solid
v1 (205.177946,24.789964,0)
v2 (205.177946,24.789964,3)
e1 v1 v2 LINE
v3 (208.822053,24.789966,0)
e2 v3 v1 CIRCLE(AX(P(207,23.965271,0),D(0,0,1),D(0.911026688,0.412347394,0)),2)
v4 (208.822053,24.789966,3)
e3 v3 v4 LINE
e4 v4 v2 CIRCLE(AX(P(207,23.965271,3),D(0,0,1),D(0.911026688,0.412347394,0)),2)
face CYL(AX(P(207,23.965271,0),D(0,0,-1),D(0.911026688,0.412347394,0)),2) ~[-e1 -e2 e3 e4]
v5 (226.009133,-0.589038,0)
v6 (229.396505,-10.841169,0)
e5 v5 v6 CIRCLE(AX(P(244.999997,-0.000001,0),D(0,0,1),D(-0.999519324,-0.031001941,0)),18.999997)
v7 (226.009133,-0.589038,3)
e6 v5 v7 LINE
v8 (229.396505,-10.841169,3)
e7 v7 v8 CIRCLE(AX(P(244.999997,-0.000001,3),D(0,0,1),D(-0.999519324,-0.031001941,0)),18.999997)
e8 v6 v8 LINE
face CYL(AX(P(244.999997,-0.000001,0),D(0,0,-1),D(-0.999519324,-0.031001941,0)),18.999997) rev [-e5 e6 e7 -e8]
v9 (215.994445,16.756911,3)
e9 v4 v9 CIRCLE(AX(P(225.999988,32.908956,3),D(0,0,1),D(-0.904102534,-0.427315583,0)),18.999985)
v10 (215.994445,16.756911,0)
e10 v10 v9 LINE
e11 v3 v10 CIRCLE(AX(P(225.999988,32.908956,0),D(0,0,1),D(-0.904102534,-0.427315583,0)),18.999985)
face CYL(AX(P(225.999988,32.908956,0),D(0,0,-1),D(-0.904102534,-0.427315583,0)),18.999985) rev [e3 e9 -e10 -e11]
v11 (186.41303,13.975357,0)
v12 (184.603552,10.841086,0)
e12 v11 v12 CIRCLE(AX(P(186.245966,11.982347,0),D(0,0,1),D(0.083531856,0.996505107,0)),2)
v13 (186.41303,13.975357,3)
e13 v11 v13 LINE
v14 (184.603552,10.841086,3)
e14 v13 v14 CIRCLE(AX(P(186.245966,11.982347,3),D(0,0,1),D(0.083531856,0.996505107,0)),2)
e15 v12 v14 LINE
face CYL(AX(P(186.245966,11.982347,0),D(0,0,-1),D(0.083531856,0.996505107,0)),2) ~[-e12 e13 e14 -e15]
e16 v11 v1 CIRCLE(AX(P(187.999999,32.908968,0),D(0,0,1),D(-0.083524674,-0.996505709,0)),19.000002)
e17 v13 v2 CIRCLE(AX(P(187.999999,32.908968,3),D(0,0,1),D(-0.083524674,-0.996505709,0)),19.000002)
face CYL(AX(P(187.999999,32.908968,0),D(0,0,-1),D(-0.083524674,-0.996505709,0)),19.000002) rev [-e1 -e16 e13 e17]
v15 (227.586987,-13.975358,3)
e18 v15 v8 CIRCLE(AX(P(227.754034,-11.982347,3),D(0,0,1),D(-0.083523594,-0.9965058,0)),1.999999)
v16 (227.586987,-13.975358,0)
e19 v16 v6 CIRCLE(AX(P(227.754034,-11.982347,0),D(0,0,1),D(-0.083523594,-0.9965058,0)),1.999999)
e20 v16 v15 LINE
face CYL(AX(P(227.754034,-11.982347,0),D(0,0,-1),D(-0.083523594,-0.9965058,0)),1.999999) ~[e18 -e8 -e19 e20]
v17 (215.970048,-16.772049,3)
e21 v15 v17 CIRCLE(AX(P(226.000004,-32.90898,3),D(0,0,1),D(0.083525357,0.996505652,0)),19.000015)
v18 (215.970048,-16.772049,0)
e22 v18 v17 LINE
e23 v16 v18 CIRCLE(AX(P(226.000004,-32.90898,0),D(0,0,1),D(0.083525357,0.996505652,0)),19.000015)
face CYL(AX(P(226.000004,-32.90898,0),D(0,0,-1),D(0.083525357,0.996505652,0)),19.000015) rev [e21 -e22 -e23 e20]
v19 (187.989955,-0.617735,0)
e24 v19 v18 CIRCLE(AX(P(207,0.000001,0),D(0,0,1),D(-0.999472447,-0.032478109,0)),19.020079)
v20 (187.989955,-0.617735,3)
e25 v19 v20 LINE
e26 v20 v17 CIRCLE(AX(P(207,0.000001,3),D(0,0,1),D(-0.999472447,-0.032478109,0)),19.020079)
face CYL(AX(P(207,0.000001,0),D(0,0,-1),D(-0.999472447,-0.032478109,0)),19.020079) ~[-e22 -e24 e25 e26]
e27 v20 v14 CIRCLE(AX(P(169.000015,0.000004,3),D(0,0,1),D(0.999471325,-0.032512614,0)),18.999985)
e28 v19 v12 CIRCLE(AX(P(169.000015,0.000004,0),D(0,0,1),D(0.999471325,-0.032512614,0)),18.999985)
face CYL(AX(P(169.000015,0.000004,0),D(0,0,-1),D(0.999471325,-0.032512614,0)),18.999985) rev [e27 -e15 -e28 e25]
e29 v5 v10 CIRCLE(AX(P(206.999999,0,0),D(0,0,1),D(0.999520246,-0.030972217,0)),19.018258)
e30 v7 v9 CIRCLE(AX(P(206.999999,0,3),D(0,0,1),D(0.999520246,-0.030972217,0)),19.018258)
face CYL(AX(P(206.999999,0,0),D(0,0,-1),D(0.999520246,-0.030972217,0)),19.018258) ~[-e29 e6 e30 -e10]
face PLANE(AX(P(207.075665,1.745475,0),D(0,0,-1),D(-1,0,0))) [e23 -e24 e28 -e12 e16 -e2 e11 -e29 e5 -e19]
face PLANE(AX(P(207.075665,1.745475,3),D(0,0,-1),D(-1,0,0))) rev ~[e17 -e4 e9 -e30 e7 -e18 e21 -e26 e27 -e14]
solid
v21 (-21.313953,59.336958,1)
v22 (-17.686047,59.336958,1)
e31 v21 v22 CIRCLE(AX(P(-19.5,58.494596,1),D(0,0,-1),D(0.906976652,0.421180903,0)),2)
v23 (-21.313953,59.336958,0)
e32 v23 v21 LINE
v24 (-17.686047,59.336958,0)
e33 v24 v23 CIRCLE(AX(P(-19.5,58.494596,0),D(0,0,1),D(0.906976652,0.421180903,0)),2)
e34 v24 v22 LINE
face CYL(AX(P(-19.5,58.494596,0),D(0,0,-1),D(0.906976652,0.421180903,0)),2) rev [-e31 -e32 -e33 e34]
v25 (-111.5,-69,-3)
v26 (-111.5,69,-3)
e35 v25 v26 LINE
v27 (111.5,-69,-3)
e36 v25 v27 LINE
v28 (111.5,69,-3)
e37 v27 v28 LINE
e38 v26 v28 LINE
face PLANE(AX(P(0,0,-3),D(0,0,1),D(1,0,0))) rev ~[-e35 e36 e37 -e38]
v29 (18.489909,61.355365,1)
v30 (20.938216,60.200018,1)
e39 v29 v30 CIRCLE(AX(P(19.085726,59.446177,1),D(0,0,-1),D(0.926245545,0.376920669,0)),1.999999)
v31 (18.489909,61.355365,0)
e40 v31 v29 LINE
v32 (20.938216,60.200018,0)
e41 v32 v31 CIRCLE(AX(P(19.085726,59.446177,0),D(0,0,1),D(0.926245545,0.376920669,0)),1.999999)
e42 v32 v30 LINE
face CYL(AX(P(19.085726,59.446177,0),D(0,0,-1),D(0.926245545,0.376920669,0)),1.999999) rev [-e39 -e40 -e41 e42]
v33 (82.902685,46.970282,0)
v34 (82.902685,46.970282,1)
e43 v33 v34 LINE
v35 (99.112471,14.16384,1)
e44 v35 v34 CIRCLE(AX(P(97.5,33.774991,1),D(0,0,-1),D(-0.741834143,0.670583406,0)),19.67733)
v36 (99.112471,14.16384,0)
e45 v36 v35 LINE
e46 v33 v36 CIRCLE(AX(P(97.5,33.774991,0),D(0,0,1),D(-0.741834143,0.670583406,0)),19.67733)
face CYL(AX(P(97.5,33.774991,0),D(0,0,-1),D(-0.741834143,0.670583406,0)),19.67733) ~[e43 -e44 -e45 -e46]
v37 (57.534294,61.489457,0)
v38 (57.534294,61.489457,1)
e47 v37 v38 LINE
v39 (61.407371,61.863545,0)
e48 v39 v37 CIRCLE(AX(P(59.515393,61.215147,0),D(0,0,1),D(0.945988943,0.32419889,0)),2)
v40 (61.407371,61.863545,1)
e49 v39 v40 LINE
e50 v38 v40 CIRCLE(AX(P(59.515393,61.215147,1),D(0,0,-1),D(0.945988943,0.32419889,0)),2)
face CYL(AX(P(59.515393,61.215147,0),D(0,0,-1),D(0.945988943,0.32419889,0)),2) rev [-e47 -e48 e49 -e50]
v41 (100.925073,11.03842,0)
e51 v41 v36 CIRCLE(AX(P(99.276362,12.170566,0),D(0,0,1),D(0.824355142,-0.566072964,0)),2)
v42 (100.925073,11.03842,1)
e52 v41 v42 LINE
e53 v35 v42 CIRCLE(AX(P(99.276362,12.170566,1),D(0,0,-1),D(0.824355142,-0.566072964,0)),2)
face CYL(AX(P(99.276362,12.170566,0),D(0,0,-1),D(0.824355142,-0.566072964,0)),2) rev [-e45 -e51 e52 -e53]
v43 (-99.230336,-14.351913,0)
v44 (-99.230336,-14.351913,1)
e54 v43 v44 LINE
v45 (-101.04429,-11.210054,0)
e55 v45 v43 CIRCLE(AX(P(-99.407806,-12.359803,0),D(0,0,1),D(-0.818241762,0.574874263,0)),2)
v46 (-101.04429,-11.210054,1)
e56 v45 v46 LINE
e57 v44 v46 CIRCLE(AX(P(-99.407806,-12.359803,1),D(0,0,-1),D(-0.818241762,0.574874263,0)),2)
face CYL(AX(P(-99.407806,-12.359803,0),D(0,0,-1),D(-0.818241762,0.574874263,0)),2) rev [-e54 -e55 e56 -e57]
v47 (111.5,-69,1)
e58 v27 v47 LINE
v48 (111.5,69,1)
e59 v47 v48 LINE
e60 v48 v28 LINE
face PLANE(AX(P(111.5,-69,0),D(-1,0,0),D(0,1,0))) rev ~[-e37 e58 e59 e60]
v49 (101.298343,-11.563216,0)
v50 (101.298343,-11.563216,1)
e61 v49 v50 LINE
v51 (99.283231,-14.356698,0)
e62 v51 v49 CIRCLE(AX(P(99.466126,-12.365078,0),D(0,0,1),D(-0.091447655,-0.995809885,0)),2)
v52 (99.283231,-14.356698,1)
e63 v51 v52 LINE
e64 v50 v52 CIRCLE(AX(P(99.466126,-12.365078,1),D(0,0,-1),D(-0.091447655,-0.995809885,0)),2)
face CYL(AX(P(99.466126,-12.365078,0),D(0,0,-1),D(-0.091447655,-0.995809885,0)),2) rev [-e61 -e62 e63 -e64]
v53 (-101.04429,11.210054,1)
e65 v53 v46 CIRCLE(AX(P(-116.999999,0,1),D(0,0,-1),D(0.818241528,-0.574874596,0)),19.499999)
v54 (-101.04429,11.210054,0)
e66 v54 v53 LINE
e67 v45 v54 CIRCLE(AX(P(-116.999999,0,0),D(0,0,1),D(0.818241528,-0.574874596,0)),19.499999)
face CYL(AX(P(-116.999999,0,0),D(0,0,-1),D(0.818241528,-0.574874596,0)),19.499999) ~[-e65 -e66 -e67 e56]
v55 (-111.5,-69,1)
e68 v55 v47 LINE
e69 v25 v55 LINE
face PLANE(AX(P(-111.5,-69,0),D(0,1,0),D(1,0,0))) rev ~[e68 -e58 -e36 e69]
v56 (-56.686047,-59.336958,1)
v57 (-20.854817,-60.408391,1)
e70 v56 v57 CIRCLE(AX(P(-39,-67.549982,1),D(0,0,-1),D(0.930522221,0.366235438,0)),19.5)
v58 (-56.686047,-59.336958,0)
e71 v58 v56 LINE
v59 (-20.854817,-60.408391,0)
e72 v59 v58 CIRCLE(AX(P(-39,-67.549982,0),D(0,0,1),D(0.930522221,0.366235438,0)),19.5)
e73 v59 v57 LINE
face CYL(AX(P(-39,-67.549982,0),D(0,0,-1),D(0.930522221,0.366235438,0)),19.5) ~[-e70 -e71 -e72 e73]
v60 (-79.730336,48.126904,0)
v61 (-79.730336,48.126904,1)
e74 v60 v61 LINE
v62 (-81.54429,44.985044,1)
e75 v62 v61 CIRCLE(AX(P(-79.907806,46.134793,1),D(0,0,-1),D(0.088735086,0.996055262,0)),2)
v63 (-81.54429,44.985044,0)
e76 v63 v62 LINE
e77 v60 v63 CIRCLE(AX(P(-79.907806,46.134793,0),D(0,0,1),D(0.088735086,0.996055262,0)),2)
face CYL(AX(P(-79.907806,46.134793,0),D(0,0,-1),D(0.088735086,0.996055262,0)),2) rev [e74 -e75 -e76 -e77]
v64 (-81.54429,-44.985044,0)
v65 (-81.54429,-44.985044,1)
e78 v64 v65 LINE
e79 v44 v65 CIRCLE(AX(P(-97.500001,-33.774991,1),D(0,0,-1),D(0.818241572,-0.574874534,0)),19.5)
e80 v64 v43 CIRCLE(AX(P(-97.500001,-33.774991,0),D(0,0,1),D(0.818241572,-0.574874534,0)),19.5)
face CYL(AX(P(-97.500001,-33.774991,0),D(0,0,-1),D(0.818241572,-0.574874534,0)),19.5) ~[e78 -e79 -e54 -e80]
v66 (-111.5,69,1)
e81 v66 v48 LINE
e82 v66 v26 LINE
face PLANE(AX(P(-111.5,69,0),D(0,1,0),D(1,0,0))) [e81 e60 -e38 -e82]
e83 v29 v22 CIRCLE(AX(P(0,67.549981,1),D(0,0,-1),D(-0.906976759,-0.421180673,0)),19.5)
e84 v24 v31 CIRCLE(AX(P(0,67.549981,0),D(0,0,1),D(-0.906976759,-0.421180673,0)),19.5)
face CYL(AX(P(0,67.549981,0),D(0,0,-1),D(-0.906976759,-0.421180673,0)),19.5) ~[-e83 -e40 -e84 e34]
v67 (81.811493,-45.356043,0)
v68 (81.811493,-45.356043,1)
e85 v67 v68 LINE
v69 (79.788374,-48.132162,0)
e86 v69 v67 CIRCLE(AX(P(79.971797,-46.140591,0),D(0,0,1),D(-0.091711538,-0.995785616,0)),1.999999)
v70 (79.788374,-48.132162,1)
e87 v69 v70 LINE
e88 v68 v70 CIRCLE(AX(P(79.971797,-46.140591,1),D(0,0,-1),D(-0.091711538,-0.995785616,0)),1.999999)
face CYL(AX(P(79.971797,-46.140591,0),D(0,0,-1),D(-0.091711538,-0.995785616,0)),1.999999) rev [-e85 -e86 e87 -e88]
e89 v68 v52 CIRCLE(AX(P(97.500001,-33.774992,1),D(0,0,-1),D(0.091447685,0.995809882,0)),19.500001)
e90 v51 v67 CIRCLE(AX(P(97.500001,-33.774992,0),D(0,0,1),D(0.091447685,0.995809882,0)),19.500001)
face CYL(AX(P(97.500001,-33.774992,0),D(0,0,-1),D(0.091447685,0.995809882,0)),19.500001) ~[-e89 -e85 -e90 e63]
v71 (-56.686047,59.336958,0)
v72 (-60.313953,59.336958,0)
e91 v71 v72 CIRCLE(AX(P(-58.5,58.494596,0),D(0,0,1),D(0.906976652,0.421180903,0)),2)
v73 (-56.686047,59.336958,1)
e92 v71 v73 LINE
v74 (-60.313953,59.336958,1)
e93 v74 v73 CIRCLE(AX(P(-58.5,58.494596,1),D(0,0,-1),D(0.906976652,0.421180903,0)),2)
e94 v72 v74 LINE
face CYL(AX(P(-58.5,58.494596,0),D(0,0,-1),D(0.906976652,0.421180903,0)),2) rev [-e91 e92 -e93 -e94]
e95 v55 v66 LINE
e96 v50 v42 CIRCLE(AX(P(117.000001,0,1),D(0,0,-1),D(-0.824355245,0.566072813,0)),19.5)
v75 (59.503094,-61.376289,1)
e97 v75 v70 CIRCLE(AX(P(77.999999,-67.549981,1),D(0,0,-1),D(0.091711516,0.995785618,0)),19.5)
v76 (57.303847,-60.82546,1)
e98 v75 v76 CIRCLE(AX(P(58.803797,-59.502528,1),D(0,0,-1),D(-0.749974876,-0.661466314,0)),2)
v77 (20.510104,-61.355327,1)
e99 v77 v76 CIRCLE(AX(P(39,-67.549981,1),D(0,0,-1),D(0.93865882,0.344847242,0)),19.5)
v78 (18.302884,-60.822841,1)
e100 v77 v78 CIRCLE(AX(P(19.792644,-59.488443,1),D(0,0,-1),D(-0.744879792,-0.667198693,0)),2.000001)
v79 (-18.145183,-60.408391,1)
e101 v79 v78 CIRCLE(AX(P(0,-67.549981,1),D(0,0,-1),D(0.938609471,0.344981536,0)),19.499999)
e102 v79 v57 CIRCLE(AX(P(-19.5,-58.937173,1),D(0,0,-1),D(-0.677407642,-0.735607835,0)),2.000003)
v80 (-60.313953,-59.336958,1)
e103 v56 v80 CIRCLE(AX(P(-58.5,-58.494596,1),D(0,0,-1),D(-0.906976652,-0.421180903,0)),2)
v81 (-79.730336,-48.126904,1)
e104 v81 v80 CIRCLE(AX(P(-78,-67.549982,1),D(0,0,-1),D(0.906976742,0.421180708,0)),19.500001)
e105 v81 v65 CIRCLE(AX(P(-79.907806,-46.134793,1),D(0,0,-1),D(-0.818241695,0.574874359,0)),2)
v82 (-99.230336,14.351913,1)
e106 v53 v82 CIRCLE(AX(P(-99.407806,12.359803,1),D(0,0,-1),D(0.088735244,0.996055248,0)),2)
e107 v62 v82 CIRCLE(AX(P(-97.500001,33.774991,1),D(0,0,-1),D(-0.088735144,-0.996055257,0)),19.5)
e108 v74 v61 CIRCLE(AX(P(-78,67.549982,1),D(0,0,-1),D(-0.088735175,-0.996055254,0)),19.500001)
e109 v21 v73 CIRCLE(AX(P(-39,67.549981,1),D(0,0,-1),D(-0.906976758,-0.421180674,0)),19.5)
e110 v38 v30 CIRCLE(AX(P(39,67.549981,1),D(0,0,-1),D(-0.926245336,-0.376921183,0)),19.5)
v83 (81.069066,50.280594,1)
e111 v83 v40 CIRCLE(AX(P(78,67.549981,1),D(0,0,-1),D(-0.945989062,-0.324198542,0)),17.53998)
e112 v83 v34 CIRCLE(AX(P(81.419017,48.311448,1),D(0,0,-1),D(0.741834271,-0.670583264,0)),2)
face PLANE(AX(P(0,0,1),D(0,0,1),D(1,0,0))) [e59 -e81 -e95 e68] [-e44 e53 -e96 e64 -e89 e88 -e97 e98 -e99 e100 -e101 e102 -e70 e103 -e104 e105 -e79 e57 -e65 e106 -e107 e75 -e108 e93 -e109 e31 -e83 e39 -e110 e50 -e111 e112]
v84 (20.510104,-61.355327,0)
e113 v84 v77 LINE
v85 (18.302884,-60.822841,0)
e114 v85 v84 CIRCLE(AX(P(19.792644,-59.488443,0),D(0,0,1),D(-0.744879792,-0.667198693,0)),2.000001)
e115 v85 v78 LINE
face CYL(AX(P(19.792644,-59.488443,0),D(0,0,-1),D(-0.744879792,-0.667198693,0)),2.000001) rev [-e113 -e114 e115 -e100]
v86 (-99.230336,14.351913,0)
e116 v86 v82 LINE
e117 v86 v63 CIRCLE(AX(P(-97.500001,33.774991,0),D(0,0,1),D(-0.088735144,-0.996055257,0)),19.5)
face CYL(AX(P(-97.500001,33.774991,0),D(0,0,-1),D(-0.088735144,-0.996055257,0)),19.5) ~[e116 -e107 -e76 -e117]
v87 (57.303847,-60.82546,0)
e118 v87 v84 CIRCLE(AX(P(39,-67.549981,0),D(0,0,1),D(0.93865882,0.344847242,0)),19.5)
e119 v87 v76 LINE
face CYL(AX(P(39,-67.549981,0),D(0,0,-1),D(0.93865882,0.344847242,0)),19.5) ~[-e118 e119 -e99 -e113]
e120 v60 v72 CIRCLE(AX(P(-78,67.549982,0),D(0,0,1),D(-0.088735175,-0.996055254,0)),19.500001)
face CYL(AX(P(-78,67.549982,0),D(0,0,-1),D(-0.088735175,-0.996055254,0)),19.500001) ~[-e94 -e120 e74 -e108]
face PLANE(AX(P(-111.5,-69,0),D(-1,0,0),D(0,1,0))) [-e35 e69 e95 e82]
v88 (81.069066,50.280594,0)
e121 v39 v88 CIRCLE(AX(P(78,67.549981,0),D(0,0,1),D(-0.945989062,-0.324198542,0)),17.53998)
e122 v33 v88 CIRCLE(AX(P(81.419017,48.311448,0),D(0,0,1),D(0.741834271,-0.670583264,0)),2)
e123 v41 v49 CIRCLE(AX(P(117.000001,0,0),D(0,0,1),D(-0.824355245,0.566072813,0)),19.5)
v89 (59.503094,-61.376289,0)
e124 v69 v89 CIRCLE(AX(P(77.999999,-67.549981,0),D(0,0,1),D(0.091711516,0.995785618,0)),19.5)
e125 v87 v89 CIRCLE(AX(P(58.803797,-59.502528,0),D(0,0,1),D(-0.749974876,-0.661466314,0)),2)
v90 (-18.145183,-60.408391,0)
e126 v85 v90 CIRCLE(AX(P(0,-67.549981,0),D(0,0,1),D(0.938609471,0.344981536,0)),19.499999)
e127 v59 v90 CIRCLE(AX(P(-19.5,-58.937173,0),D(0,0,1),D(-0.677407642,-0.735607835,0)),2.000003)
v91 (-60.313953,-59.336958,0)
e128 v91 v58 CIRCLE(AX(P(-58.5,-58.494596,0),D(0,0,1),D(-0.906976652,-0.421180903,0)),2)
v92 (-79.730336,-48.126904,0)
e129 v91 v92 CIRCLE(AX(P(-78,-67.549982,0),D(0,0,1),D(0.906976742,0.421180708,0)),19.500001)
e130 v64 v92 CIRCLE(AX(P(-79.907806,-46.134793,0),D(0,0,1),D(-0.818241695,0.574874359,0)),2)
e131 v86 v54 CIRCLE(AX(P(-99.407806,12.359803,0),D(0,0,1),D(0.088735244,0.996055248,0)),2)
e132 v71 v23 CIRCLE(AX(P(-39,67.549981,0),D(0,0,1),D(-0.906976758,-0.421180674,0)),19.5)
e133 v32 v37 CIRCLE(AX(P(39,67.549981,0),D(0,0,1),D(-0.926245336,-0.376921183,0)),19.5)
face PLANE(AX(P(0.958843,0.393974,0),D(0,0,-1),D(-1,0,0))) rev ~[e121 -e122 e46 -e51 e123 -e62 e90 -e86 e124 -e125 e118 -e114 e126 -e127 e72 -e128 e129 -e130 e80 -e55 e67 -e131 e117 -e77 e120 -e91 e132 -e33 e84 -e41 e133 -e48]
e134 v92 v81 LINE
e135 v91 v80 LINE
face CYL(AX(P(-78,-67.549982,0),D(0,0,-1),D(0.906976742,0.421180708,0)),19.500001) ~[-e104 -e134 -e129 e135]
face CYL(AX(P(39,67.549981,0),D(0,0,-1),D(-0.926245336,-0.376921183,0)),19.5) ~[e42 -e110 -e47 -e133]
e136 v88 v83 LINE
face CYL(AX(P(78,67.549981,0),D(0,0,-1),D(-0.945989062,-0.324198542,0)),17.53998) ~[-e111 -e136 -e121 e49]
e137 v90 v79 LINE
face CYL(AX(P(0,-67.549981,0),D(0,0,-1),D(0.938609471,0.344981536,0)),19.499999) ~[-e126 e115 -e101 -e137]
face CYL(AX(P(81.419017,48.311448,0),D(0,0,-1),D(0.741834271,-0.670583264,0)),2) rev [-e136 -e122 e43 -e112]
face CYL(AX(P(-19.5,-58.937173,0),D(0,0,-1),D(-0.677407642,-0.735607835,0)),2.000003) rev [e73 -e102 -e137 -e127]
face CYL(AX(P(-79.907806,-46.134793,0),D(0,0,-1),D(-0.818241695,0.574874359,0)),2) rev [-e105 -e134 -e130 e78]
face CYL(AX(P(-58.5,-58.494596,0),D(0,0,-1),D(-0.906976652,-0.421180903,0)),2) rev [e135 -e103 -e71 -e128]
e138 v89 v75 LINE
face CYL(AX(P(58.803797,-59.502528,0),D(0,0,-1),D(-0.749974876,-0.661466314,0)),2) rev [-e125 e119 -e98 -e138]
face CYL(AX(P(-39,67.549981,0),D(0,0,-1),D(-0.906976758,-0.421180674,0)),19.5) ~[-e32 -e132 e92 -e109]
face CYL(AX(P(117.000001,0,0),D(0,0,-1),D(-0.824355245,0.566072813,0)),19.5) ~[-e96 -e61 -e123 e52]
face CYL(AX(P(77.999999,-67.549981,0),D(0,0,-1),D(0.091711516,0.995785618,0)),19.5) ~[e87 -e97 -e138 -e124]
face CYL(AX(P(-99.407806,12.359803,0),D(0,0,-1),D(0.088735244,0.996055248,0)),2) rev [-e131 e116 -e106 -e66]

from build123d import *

# Parameters (mm, degrees)
PAD001_DEPTH         = 3
SKETCH004_W          = 769.720642
SKETCH004_H          = 484.196625
SKETCH004_W_2        = 86.21834
SKETCH004_H_2        = 85.329529
POCKET001_DEPTH      = 100
POCKET001_DEPTH_BACK = -100
SKETCH002_W          = 223
SKETCH002_H          = 138
PAD_DEPTH            = 3
PAD_DEPTH_BACK       = -1
POCKET_DEPTH         = 3


with BuildPart() as pieces:
    # Sketch003 → Pad001 (new body)
    with BuildSketch(Plane.XY):
        with BuildLine():
            ThreePointArc((-205.226021, 141.050401), (-197.53634, 132.633448), (-186.413146, 130.133278))
            ThreePointArc((-184.604126, 126.998191), (-184.513671, 129.139853), (-186.413146, 130.133278))
            ThreePointArc((-184.604126, 126.998191), (-188, 116.15736), (-184.603475, 105.316733))
            ThreePointArc((-186.413076, 102.182578), (-184.513939, 103.175545), (-184.603475, 105.316733))
            ThreePointArc((-186.413076, 102.182578), (-197.500014, 99.70344), (-205.190465, 91.341426))
            ThreePointArc((-208.809364, 91.341063), (-206.999799, 90.193237), (-205.190465, 91.341426))
            ThreePointArc((-208.809364, 91.341063), (-216.499836, 99.703353), (-227.586977, 102.182573))
            ThreePointArc((-229.396171, 105.317242), (-229.48623, 103.175836), (-227.586977, 102.182573))
            ThreePointArc((-229.396171, 105.317242), (-226, 116.158224), (-229.396506, 126.999102))
            ThreePointArc((-227.586983, 130.133289), (-229.486084, 129.140277), (-229.396506, 126.999102))
            ThreePointArc((-227.586983, 130.133289), (-216.484349, 132.62146), (-208.794156, 141.007186))
            ThreePointArc((-205.226021, 141.050401), (-207.023366, 142.125033), (-208.794156, 141.007186))
        make_face()
        with BuildLine():
            ThreePointArc((208.900742, -91.192405), (212.086998, -95.848377), (216.5, -99.363448))
            ThreePointArc((197.5, -99.363448), (207, -134.817931), (216.5, -99.363448))
            ThreePointArc((197.5, -99.363448), (201.953007, -95.805228), (205.150235, -91.086338))
            ThreePointArc((208.900742, -91.192405), (207.062429, -89.833156), (205.150235, -91.086338))
        make_face()
        with BuildLine():
            ThreePointArc((-67.190475, 140.634458), (-59.500032, 132.272432), (-48.413093, 129.793282))
            ThreePointArc((-46.60383, 126.658618), (-46.513788, 128.800055), (-48.413093, 129.793282))
            ThreePointArc((-46.60383, 126.658618), (-50, 115.817636), (-46.603494, 104.97676))
            ThreePointArc((-48.413017, 101.842573), (-46.513916, 102.835584), (-46.603494, 104.97676))
            ThreePointArc((-48.413017, 101.842573), (-54.146025, 101.451092), (-59.499796, 99.363566))
            ThreePointArc((-78.499746, 99.363301), (-68.999736, 96.817931), (-59.499796, 99.363566))
            ThreePointArc((-78.499746, 99.363301), (-83.85368, 101.451026), (-89.586907, 101.842579))
            ThreePointArc((-91.396506, 104.97676), (-91.486065, 102.835551), (-89.586907, 101.842579))
            ThreePointArc((-91.396506, 104.97676), (-88, 115.817641), (-91.396176, 126.658626))
            ThreePointArc((-89.586977, 129.793288), (-91.486228, 128.800029), (-91.396176, 126.658626))
            ThreePointArc((-89.586977, 129.793288), (-78.499829, 132.272512), (-70.809358, 140.634812))
            ThreePointArc((-67.190475, 140.634458), (-68.999804, 141.782624), (-70.809358, 140.634812))
        make_face()
        with BuildLine():
            ThreePointArc((70.809356, 140.634817), (78.499826, 132.272514), (89.586974, 129.793288))
            ThreePointArc((91.396502, 126.659096), (91.486084, 128.800278), (89.586974, 129.793288))
            ThreePointArc((91.396502, 126.659096), (88.868997, 121.498312), (88, 115.817924))
            ThreePointArc((59.500281, 99.363286), (78.500138, 99.363527), (88, 115.817924))
            ThreePointArc((59.500281, 99.363286), (54.146298, 101.451031), (48.413016, 101.842573))
            ThreePointArc((46.60381, 104.977215), (46.513777, 102.835825), (48.413016, 101.842573))
            ThreePointArc((46.60381, 104.977215), (50, 115.818206), (46.603496, 126.659098))
            ThreePointArc((48.413024, 129.793288), (46.513917, 128.800279), (46.603496, 126.659098))
            ThreePointArc((48.413024, 129.793288), (59.500172, 132.272513), (67.190643, 140.634813))
            ThreePointArc((70.809356, 140.634817), (68.999998, 141.782624), (67.190643, 140.634813))
        make_face()
        with BuildLine():
            ThreePointArc((208.809525, 140.634456), (216.499968, 132.272432), (227.586905, 129.793282))
            ThreePointArc((229.396503, 126.659097), (229.486066, 128.800309), (227.586905, 129.793282))
            ThreePointArc((229.396503, 126.659097), (226.868998, 121.498314), (226, 115.817926))
            ThreePointArc((188, 115.817931), (206.999998, 96.817931), (226, 115.817926))
            ThreePointArc((188, 115.817931), (187.131001, 121.498318), (184.603495, 126.6591))
            ThreePointArc((186.413023, 129.793288), (184.513917, 128.800279), (184.603495, 126.6591))
            ThreePointArc((186.413023, 129.793288), (197.500171, 132.272512), (205.190642, 140.634812))
            ThreePointArc((208.809525, 140.634456), (207.000197, 141.782624), (205.190642, 140.634812))
        make_face()
        with BuildLine():
            ThreePointArc((-227.579289, 14.314715), (-216.496489, 16.79651), (-208.809358, 25.156881))
            ThreePointArc((-205.190852, 25.157326), (-207.000246, 26.304694), (-208.809358, 25.156881))
            ThreePointArc((-205.190852, 25.157326), (-201.985159, 20.387577), (-197.5, 16.794483))
            ThreePointArc((-188, 0.339994), (-190.545516, 9.839997), (-197.5, 16.794483))
            ThreePointArc((-188, 0.339994), (-187.130999, -5.340395), (-184.603489, -10.501177))
            ThreePointArc((-186.41309, -13.635352), (-184.513936, -12.642381), (-184.603489, -10.501177))
            ThreePointArc((-186.41309, -13.635352), (-197.500044, -16.114508), (-205.190488, -24.476555))
            ThreePointArc((-208.80952, -24.476537), (-207.00001, -25.624693), (-205.190488, -24.476555))
            ThreePointArc((-208.80952, -24.476537), (-212.014877, -19.707537), (-216.499338, -16.114865))
            ThreePointArc((-226, 0.339999), (-223.454291, -9.160332), (-216.499338, -16.114865))
            ThreePointArc((-226, 0.339999), (-226.867774, 6.016476), (-229.39183, 11.174437))
            ThreePointArc((-227.579289, 14.314715), (-229.48624, 13.32216), (-229.39183, 11.174437))
        make_face()
        with BuildLine():
            ThreePointArc((-89.596783, 13.976182), (-78.521543, 16.442064), (-70.826555, 24.780449))
            ThreePointArc((-67.173441, 24.78044), (-68.999995, 25.965773), (-70.826555, 24.780449))
            ThreePointArc((-67.173441, 24.78044), (-59.482714, 16.444515), (-48.413017, 13.975358))
            ThreePointArc((-46.603598, 10.84102), (-46.51387, 12.982267), (-48.413017, 13.975358))
            ThreePointArc((-46.603598, 10.84102), (-49.131093, 5.680093), (-50, -0.000436))
            ThreePointArc((-59.499846, -16.454394), (-52.545582, -9.500112), (-50, -0.000436))
            ThreePointArc((-59.499846, -16.454394), (-63.984801, -20.047187), (-67.190476, -24.816529))
            ThreePointArc((-70.809524, -24.816529), (-69, -25.964693), (-67.190476, -24.816529))
            ThreePointArc((-70.809524, -24.816529), (-74.015033, -20.047368), (-78.499728, -16.45464))
            ThreePointArc((-88, 0), (-85.454404, -9.500136), (-78.499728, -16.45464))
            ThreePointArc((-88, 0), (-88.878611, 5.710976), (-91.433184, 10.893771))
            ThreePointArc((-89.596783, 13.976182), (-91.473664, 13.006128), (-91.433184, 10.893771))
        make_face()
        with BuildLine():
            ThreePointArc((59.5, 16.454483), (63.975624, 20.037216), (67.178839, 24.791855))
            ThreePointArc((70.826633, 24.780284), (69.006477, 25.965474), (67.178839, 24.791855))
            ThreePointArc((70.826633, 24.780284), (74.0336, 20.027209), (78.51249, 16.447278))
            ThreePointArc((88.000005, 0.014419), (85.454492, 9.500005), (78.51249, 16.447278))
            ThreePointArc((88.000005, 0.014419), (88.866818, -5.673421), (91.396403, -10.841022))
            ThreePointArc((89.586961, -13.975356), (91.486124, -12.982278), (91.396403, -10.841022))
            ThreePointArc((89.586961, -13.975356), (83.889969, -14.358827), (78.564163, -16.417604))
            ThreePointArc((59.564019, -16.491611), (69.074006, -19.000144), (78.564163, -16.417604))
            ThreePointArc((59.564019, -16.491611), (54.182252, -14.374976), (48.413035, -13.975357))
            ThreePointArc((46.603492, -10.841174), (46.513921, -12.982356), (48.413035, -13.975357))
            ThreePointArc((46.603492, -10.841174), (49.131, -5.68039), (50, 0))
            ThreePointArc((59.5, 16.454483), (52.545517, 9.5), (50, 0))
        make_face()
        with BuildLine():
            ThreePointArc((186.41303, 13.975357), (197.487284, 16.447148), (205.177946, 24.789964))
            ThreePointArc((208.822053, 24.789966), (206.999999, 25.965271), (205.177946, 24.789964))
            ThreePointArc((208.822053, 24.789966), (211.827202, 20.254645), (215.994445, 16.756911))
            ThreePointArc((226.009133, -0.589038), (223.470294, 9.509128), (215.994445, 16.756911))
            ThreePointArc((226.009133, -0.589038), (226.95924, -5.960787), (229.396505, -10.841169))
            ThreePointArc((227.586987, -13.975358), (229.486086, -12.982344), (229.396505, -10.841169))
            ThreePointArc((227.586987, -13.975358), (221.552947, -14.436724), (215.970048, -16.772049))
            ThreePointArc((187.989955, -0.617735), (197.489961, -16.471871), (215.970048, -16.772049))
            ThreePointArc((187.989955, -0.617735), (187.220973, 5.384808), (184.603552, 10.841086))
            ThreePointArc((186.41303, 13.975357), (184.513893, 12.982308), (184.603552, 10.841086))
        make_face()
        with BuildLine():
            ThreePointArc((-184.807647, -104.936665), (-187.184407, -109.970903), (-188, -115.477931))
            ThreePointArc((-226, -115.477929), (-207.000001, -134.477931), (-188, -115.477931))
            ThreePointArc((-226, -115.477929), (-226.869031, -109.797441), (-229.396626, -104.636587))
            ThreePointArc((-227.586917, -101.502578), (-229.486015, -102.495464), (-229.396626, -104.636587))
            ThreePointArc((-227.586917, -101.502578), (-221.853828, -101.11106), (-216.5, -99.023448))
            ThreePointArc((-197.500001, -99.023448), (-207, -96.477931), (-216.5, -99.023448))
            ThreePointArc((-197.500001, -99.023448), (-192.286311, -101.079166), (-186.699693, -101.524418))
            ThreePointArc((-184.807647, -104.936665), (-184.389947, -102.474375), (-186.699693, -101.524418))
        make_face()
        with BuildLine():
            ThreePointArc((-78.499945, -99.363416), (-74.015619, -95.771201), (-70.810155, -91.002743))
            ThreePointArc((-67.193838, -90.994257), (-69.004684, -89.853222), (-70.810155, -91.002743))
            ThreePointArc((-67.193838, -90.994257), (-63.987509, -95.767798), (-59.499939, -99.363483))
            ThreePointArc((-59.500001, -132.272414), (-50, -115.817966), (-59.499939, -99.363483))
            ThreePointArc((-59.500001, -132.272414), (-63.984832, -135.865152), (-67.19044, -140.634382))
            ThreePointArc((-70.809522, -140.634463), (-68.999956, -141.782624), (-67.19044, -140.634382))
            ThreePointArc((-70.809522, -140.634463), (-74.01514, -135.865182), (-78.500005, -132.272411))
            ThreePointArc((-78.499945, -99.363416), (-88, -115.817896), (-78.500005, -132.272411))
        make_face()
        with BuildLine():
            ThreePointArc((70.809505, -91.001361), (78.49998, -99.363437), (89.586983, -101.842573))
            ThreePointArc((91.396507, -104.976759), (91.486084, -102.835583), (89.586983, -101.842573))
            ThreePointArc((91.396507, -104.976759), (88.868995, -110.137557), (88, -115.817962))
            ThreePointArc((59.499973, -99.363464), (59.5, -132.272413), (88, -115.817962))
            ThreePointArc((59.499973, -99.363464), (63.98487, -95.770668), (67.190502, -91.001348))
            ThreePointArc((70.809505, -91.001361), (69.000007, -89.853237), (67.190502, -91.001348))
        make_face()
    extrude(amount=PAD001_DEPTH)

    # Sketch004 → Pocket001 (cut, two sides)
    with BuildSketch(Plane.XY) as pocket001_sk:
        with Locations((-6.957947, 15.610642)):
            Rectangle(SKETCH004_W, SKETCH004_H)
        with Locations((212.1809, 1.74183)):
            Rectangle(SKETCH004_W_2, SKETCH004_H_2, mode=Mode.SUBTRACT)
    extrude(amount=-POCKET001_DEPTH, mode=Mode.SUBTRACT)
    extrude(pocket001_sk.sketch, amount=-POCKET001_DEPTH_BACK, mode=Mode.SUBTRACT)


with BuildPart() as board:
    # Sketch002 → Pad (new body, two sides)
    with BuildSketch(Plane.XY) as pad_sk:
        Rectangle(SKETCH002_W, SKETCH002_H)
    extrude(amount=-PAD_DEPTH)
    extrude(pad_sk.sketch, amount=-PAD_DEPTH_BACK)

    # Sketch → Pocket (cut)
    with BuildSketch(Plane.XY):
        with BuildLine():
            ThreePointArc((-101.04429, -11.210054), (-97.5, 0), (-101.04429, 11.210054))
            ThreePointArc((-99.230336, 14.351913), (-101.139857, 13.359803), (-101.04429, 11.210054))
            ThreePointArc((-99.230336, 14.351913), (-80.612505, 24.024991), (-81.54429, 44.985044))
            ThreePointArc((-79.730336, 48.126904), (-81.639857, 47.134794), (-81.54429, 44.985044))
            ThreePointArc((-79.730336, 48.126904), (-68.25, 50.662486), (-60.313953, 59.336958))
            ThreePointArc((-56.686047, 59.336958), (-58.5, 60.494596), (-60.313953, 59.336958))
            ThreePointArc((-56.686047, 59.336958), (-39, 48.049981), (-21.313953, 59.336958))
            ThreePointArc((-17.686047, 59.336958), (-19.5, 60.494596), (-21.313953, 59.336958))
            ThreePointArc((-17.686047, 59.336958), (1.086297, 48.080262), (18.489909, 61.355365))
            ThreePointArc((20.938216, 60.200018), (19.939256, 61.254901), (18.489909, 61.355365))
            ThreePointArc((20.938216, 60.200018), (39.686644, 48.062074), (57.534294, 61.489457))
            ThreePointArc((61.407371, 61.863545), (59.323115, 63.205883), (57.534294, 61.489457))
            ThreePointArc((61.407371, 61.863545), (69.09703, 52.437469), (81.069066, 50.280594))
            ThreePointArc((82.902685, 46.970282), (83.168551, 49.280535), (81.069066, 50.280594))
            ThreePointArc((82.902685, 46.970282), (79.858651, 25.058334), (99.112471, 14.16384))
            ThreePointArc((100.925073, 11.03842), (101.006459, 13.173944), (99.112471, 14.16384))
            ThreePointArc((100.925073, 11.03842), (97.502659, -0.322002), (101.298343, -11.563216))
            ThreePointArc((99.283231, -14.356698), (101.088147, -13.535142), (101.298343, -11.563216))
            ThreePointArc((99.283231, -14.356698), (80.512387, -24.200494), (81.811493, -45.356043))
            ThreePointArc((79.788374, -48.132162), (81.588126, -47.318504), (81.811493, -45.356043))
            ThreePointArc((79.788374, -48.132162), (67.339536, -51.221953), (59.503094, -61.376289))
            ThreePointArc((57.303847, -60.82546), (58.317881, -61.442601), (59.503094, -61.376289))
            ThreePointArc((57.303847, -60.82546), (38.719209, -48.052003), (20.510104, -61.355327))
            ThreePointArc((18.302884, -60.822841), (19.323606, -61.432667), (20.510104, -61.355327))
            ThreePointArc((18.302884, -60.822841), (0.22172, -48.051242), (-18.145183, -60.408391))
            ThreePointArc((-20.854817, -60.408391), (-19.5, -60.937176), (-18.145183, -60.408391))
            ThreePointArc((-20.854817, -60.408391), (-38.417167, -48.058694), (-56.686047, -59.336958))
            ThreePointArc((-60.313953, -59.336958), (-58.5, -60.494596), (-56.686047, -59.336958))
            ThreePointArc((-60.313953, -59.336958), (-68.25, -50.662486), (-79.730336, -48.126904))
            ThreePointArc((-81.54429, -44.985044), (-81.639857, -47.134794), (-79.730336, -48.126904))
            ThreePointArc((-81.54429, -44.985044), (-80.612505, -24.024991), (-99.230336, -14.351913))
            ThreePointArc((-101.04429, -11.210054), (-101.139857, -13.359803), (-99.230336, -14.351913))
        make_face()
    extrude(amount=POCKET_DEPTH, mode=Mode.SUBTRACT)


solid = Compound([pieces.part, board.part])
